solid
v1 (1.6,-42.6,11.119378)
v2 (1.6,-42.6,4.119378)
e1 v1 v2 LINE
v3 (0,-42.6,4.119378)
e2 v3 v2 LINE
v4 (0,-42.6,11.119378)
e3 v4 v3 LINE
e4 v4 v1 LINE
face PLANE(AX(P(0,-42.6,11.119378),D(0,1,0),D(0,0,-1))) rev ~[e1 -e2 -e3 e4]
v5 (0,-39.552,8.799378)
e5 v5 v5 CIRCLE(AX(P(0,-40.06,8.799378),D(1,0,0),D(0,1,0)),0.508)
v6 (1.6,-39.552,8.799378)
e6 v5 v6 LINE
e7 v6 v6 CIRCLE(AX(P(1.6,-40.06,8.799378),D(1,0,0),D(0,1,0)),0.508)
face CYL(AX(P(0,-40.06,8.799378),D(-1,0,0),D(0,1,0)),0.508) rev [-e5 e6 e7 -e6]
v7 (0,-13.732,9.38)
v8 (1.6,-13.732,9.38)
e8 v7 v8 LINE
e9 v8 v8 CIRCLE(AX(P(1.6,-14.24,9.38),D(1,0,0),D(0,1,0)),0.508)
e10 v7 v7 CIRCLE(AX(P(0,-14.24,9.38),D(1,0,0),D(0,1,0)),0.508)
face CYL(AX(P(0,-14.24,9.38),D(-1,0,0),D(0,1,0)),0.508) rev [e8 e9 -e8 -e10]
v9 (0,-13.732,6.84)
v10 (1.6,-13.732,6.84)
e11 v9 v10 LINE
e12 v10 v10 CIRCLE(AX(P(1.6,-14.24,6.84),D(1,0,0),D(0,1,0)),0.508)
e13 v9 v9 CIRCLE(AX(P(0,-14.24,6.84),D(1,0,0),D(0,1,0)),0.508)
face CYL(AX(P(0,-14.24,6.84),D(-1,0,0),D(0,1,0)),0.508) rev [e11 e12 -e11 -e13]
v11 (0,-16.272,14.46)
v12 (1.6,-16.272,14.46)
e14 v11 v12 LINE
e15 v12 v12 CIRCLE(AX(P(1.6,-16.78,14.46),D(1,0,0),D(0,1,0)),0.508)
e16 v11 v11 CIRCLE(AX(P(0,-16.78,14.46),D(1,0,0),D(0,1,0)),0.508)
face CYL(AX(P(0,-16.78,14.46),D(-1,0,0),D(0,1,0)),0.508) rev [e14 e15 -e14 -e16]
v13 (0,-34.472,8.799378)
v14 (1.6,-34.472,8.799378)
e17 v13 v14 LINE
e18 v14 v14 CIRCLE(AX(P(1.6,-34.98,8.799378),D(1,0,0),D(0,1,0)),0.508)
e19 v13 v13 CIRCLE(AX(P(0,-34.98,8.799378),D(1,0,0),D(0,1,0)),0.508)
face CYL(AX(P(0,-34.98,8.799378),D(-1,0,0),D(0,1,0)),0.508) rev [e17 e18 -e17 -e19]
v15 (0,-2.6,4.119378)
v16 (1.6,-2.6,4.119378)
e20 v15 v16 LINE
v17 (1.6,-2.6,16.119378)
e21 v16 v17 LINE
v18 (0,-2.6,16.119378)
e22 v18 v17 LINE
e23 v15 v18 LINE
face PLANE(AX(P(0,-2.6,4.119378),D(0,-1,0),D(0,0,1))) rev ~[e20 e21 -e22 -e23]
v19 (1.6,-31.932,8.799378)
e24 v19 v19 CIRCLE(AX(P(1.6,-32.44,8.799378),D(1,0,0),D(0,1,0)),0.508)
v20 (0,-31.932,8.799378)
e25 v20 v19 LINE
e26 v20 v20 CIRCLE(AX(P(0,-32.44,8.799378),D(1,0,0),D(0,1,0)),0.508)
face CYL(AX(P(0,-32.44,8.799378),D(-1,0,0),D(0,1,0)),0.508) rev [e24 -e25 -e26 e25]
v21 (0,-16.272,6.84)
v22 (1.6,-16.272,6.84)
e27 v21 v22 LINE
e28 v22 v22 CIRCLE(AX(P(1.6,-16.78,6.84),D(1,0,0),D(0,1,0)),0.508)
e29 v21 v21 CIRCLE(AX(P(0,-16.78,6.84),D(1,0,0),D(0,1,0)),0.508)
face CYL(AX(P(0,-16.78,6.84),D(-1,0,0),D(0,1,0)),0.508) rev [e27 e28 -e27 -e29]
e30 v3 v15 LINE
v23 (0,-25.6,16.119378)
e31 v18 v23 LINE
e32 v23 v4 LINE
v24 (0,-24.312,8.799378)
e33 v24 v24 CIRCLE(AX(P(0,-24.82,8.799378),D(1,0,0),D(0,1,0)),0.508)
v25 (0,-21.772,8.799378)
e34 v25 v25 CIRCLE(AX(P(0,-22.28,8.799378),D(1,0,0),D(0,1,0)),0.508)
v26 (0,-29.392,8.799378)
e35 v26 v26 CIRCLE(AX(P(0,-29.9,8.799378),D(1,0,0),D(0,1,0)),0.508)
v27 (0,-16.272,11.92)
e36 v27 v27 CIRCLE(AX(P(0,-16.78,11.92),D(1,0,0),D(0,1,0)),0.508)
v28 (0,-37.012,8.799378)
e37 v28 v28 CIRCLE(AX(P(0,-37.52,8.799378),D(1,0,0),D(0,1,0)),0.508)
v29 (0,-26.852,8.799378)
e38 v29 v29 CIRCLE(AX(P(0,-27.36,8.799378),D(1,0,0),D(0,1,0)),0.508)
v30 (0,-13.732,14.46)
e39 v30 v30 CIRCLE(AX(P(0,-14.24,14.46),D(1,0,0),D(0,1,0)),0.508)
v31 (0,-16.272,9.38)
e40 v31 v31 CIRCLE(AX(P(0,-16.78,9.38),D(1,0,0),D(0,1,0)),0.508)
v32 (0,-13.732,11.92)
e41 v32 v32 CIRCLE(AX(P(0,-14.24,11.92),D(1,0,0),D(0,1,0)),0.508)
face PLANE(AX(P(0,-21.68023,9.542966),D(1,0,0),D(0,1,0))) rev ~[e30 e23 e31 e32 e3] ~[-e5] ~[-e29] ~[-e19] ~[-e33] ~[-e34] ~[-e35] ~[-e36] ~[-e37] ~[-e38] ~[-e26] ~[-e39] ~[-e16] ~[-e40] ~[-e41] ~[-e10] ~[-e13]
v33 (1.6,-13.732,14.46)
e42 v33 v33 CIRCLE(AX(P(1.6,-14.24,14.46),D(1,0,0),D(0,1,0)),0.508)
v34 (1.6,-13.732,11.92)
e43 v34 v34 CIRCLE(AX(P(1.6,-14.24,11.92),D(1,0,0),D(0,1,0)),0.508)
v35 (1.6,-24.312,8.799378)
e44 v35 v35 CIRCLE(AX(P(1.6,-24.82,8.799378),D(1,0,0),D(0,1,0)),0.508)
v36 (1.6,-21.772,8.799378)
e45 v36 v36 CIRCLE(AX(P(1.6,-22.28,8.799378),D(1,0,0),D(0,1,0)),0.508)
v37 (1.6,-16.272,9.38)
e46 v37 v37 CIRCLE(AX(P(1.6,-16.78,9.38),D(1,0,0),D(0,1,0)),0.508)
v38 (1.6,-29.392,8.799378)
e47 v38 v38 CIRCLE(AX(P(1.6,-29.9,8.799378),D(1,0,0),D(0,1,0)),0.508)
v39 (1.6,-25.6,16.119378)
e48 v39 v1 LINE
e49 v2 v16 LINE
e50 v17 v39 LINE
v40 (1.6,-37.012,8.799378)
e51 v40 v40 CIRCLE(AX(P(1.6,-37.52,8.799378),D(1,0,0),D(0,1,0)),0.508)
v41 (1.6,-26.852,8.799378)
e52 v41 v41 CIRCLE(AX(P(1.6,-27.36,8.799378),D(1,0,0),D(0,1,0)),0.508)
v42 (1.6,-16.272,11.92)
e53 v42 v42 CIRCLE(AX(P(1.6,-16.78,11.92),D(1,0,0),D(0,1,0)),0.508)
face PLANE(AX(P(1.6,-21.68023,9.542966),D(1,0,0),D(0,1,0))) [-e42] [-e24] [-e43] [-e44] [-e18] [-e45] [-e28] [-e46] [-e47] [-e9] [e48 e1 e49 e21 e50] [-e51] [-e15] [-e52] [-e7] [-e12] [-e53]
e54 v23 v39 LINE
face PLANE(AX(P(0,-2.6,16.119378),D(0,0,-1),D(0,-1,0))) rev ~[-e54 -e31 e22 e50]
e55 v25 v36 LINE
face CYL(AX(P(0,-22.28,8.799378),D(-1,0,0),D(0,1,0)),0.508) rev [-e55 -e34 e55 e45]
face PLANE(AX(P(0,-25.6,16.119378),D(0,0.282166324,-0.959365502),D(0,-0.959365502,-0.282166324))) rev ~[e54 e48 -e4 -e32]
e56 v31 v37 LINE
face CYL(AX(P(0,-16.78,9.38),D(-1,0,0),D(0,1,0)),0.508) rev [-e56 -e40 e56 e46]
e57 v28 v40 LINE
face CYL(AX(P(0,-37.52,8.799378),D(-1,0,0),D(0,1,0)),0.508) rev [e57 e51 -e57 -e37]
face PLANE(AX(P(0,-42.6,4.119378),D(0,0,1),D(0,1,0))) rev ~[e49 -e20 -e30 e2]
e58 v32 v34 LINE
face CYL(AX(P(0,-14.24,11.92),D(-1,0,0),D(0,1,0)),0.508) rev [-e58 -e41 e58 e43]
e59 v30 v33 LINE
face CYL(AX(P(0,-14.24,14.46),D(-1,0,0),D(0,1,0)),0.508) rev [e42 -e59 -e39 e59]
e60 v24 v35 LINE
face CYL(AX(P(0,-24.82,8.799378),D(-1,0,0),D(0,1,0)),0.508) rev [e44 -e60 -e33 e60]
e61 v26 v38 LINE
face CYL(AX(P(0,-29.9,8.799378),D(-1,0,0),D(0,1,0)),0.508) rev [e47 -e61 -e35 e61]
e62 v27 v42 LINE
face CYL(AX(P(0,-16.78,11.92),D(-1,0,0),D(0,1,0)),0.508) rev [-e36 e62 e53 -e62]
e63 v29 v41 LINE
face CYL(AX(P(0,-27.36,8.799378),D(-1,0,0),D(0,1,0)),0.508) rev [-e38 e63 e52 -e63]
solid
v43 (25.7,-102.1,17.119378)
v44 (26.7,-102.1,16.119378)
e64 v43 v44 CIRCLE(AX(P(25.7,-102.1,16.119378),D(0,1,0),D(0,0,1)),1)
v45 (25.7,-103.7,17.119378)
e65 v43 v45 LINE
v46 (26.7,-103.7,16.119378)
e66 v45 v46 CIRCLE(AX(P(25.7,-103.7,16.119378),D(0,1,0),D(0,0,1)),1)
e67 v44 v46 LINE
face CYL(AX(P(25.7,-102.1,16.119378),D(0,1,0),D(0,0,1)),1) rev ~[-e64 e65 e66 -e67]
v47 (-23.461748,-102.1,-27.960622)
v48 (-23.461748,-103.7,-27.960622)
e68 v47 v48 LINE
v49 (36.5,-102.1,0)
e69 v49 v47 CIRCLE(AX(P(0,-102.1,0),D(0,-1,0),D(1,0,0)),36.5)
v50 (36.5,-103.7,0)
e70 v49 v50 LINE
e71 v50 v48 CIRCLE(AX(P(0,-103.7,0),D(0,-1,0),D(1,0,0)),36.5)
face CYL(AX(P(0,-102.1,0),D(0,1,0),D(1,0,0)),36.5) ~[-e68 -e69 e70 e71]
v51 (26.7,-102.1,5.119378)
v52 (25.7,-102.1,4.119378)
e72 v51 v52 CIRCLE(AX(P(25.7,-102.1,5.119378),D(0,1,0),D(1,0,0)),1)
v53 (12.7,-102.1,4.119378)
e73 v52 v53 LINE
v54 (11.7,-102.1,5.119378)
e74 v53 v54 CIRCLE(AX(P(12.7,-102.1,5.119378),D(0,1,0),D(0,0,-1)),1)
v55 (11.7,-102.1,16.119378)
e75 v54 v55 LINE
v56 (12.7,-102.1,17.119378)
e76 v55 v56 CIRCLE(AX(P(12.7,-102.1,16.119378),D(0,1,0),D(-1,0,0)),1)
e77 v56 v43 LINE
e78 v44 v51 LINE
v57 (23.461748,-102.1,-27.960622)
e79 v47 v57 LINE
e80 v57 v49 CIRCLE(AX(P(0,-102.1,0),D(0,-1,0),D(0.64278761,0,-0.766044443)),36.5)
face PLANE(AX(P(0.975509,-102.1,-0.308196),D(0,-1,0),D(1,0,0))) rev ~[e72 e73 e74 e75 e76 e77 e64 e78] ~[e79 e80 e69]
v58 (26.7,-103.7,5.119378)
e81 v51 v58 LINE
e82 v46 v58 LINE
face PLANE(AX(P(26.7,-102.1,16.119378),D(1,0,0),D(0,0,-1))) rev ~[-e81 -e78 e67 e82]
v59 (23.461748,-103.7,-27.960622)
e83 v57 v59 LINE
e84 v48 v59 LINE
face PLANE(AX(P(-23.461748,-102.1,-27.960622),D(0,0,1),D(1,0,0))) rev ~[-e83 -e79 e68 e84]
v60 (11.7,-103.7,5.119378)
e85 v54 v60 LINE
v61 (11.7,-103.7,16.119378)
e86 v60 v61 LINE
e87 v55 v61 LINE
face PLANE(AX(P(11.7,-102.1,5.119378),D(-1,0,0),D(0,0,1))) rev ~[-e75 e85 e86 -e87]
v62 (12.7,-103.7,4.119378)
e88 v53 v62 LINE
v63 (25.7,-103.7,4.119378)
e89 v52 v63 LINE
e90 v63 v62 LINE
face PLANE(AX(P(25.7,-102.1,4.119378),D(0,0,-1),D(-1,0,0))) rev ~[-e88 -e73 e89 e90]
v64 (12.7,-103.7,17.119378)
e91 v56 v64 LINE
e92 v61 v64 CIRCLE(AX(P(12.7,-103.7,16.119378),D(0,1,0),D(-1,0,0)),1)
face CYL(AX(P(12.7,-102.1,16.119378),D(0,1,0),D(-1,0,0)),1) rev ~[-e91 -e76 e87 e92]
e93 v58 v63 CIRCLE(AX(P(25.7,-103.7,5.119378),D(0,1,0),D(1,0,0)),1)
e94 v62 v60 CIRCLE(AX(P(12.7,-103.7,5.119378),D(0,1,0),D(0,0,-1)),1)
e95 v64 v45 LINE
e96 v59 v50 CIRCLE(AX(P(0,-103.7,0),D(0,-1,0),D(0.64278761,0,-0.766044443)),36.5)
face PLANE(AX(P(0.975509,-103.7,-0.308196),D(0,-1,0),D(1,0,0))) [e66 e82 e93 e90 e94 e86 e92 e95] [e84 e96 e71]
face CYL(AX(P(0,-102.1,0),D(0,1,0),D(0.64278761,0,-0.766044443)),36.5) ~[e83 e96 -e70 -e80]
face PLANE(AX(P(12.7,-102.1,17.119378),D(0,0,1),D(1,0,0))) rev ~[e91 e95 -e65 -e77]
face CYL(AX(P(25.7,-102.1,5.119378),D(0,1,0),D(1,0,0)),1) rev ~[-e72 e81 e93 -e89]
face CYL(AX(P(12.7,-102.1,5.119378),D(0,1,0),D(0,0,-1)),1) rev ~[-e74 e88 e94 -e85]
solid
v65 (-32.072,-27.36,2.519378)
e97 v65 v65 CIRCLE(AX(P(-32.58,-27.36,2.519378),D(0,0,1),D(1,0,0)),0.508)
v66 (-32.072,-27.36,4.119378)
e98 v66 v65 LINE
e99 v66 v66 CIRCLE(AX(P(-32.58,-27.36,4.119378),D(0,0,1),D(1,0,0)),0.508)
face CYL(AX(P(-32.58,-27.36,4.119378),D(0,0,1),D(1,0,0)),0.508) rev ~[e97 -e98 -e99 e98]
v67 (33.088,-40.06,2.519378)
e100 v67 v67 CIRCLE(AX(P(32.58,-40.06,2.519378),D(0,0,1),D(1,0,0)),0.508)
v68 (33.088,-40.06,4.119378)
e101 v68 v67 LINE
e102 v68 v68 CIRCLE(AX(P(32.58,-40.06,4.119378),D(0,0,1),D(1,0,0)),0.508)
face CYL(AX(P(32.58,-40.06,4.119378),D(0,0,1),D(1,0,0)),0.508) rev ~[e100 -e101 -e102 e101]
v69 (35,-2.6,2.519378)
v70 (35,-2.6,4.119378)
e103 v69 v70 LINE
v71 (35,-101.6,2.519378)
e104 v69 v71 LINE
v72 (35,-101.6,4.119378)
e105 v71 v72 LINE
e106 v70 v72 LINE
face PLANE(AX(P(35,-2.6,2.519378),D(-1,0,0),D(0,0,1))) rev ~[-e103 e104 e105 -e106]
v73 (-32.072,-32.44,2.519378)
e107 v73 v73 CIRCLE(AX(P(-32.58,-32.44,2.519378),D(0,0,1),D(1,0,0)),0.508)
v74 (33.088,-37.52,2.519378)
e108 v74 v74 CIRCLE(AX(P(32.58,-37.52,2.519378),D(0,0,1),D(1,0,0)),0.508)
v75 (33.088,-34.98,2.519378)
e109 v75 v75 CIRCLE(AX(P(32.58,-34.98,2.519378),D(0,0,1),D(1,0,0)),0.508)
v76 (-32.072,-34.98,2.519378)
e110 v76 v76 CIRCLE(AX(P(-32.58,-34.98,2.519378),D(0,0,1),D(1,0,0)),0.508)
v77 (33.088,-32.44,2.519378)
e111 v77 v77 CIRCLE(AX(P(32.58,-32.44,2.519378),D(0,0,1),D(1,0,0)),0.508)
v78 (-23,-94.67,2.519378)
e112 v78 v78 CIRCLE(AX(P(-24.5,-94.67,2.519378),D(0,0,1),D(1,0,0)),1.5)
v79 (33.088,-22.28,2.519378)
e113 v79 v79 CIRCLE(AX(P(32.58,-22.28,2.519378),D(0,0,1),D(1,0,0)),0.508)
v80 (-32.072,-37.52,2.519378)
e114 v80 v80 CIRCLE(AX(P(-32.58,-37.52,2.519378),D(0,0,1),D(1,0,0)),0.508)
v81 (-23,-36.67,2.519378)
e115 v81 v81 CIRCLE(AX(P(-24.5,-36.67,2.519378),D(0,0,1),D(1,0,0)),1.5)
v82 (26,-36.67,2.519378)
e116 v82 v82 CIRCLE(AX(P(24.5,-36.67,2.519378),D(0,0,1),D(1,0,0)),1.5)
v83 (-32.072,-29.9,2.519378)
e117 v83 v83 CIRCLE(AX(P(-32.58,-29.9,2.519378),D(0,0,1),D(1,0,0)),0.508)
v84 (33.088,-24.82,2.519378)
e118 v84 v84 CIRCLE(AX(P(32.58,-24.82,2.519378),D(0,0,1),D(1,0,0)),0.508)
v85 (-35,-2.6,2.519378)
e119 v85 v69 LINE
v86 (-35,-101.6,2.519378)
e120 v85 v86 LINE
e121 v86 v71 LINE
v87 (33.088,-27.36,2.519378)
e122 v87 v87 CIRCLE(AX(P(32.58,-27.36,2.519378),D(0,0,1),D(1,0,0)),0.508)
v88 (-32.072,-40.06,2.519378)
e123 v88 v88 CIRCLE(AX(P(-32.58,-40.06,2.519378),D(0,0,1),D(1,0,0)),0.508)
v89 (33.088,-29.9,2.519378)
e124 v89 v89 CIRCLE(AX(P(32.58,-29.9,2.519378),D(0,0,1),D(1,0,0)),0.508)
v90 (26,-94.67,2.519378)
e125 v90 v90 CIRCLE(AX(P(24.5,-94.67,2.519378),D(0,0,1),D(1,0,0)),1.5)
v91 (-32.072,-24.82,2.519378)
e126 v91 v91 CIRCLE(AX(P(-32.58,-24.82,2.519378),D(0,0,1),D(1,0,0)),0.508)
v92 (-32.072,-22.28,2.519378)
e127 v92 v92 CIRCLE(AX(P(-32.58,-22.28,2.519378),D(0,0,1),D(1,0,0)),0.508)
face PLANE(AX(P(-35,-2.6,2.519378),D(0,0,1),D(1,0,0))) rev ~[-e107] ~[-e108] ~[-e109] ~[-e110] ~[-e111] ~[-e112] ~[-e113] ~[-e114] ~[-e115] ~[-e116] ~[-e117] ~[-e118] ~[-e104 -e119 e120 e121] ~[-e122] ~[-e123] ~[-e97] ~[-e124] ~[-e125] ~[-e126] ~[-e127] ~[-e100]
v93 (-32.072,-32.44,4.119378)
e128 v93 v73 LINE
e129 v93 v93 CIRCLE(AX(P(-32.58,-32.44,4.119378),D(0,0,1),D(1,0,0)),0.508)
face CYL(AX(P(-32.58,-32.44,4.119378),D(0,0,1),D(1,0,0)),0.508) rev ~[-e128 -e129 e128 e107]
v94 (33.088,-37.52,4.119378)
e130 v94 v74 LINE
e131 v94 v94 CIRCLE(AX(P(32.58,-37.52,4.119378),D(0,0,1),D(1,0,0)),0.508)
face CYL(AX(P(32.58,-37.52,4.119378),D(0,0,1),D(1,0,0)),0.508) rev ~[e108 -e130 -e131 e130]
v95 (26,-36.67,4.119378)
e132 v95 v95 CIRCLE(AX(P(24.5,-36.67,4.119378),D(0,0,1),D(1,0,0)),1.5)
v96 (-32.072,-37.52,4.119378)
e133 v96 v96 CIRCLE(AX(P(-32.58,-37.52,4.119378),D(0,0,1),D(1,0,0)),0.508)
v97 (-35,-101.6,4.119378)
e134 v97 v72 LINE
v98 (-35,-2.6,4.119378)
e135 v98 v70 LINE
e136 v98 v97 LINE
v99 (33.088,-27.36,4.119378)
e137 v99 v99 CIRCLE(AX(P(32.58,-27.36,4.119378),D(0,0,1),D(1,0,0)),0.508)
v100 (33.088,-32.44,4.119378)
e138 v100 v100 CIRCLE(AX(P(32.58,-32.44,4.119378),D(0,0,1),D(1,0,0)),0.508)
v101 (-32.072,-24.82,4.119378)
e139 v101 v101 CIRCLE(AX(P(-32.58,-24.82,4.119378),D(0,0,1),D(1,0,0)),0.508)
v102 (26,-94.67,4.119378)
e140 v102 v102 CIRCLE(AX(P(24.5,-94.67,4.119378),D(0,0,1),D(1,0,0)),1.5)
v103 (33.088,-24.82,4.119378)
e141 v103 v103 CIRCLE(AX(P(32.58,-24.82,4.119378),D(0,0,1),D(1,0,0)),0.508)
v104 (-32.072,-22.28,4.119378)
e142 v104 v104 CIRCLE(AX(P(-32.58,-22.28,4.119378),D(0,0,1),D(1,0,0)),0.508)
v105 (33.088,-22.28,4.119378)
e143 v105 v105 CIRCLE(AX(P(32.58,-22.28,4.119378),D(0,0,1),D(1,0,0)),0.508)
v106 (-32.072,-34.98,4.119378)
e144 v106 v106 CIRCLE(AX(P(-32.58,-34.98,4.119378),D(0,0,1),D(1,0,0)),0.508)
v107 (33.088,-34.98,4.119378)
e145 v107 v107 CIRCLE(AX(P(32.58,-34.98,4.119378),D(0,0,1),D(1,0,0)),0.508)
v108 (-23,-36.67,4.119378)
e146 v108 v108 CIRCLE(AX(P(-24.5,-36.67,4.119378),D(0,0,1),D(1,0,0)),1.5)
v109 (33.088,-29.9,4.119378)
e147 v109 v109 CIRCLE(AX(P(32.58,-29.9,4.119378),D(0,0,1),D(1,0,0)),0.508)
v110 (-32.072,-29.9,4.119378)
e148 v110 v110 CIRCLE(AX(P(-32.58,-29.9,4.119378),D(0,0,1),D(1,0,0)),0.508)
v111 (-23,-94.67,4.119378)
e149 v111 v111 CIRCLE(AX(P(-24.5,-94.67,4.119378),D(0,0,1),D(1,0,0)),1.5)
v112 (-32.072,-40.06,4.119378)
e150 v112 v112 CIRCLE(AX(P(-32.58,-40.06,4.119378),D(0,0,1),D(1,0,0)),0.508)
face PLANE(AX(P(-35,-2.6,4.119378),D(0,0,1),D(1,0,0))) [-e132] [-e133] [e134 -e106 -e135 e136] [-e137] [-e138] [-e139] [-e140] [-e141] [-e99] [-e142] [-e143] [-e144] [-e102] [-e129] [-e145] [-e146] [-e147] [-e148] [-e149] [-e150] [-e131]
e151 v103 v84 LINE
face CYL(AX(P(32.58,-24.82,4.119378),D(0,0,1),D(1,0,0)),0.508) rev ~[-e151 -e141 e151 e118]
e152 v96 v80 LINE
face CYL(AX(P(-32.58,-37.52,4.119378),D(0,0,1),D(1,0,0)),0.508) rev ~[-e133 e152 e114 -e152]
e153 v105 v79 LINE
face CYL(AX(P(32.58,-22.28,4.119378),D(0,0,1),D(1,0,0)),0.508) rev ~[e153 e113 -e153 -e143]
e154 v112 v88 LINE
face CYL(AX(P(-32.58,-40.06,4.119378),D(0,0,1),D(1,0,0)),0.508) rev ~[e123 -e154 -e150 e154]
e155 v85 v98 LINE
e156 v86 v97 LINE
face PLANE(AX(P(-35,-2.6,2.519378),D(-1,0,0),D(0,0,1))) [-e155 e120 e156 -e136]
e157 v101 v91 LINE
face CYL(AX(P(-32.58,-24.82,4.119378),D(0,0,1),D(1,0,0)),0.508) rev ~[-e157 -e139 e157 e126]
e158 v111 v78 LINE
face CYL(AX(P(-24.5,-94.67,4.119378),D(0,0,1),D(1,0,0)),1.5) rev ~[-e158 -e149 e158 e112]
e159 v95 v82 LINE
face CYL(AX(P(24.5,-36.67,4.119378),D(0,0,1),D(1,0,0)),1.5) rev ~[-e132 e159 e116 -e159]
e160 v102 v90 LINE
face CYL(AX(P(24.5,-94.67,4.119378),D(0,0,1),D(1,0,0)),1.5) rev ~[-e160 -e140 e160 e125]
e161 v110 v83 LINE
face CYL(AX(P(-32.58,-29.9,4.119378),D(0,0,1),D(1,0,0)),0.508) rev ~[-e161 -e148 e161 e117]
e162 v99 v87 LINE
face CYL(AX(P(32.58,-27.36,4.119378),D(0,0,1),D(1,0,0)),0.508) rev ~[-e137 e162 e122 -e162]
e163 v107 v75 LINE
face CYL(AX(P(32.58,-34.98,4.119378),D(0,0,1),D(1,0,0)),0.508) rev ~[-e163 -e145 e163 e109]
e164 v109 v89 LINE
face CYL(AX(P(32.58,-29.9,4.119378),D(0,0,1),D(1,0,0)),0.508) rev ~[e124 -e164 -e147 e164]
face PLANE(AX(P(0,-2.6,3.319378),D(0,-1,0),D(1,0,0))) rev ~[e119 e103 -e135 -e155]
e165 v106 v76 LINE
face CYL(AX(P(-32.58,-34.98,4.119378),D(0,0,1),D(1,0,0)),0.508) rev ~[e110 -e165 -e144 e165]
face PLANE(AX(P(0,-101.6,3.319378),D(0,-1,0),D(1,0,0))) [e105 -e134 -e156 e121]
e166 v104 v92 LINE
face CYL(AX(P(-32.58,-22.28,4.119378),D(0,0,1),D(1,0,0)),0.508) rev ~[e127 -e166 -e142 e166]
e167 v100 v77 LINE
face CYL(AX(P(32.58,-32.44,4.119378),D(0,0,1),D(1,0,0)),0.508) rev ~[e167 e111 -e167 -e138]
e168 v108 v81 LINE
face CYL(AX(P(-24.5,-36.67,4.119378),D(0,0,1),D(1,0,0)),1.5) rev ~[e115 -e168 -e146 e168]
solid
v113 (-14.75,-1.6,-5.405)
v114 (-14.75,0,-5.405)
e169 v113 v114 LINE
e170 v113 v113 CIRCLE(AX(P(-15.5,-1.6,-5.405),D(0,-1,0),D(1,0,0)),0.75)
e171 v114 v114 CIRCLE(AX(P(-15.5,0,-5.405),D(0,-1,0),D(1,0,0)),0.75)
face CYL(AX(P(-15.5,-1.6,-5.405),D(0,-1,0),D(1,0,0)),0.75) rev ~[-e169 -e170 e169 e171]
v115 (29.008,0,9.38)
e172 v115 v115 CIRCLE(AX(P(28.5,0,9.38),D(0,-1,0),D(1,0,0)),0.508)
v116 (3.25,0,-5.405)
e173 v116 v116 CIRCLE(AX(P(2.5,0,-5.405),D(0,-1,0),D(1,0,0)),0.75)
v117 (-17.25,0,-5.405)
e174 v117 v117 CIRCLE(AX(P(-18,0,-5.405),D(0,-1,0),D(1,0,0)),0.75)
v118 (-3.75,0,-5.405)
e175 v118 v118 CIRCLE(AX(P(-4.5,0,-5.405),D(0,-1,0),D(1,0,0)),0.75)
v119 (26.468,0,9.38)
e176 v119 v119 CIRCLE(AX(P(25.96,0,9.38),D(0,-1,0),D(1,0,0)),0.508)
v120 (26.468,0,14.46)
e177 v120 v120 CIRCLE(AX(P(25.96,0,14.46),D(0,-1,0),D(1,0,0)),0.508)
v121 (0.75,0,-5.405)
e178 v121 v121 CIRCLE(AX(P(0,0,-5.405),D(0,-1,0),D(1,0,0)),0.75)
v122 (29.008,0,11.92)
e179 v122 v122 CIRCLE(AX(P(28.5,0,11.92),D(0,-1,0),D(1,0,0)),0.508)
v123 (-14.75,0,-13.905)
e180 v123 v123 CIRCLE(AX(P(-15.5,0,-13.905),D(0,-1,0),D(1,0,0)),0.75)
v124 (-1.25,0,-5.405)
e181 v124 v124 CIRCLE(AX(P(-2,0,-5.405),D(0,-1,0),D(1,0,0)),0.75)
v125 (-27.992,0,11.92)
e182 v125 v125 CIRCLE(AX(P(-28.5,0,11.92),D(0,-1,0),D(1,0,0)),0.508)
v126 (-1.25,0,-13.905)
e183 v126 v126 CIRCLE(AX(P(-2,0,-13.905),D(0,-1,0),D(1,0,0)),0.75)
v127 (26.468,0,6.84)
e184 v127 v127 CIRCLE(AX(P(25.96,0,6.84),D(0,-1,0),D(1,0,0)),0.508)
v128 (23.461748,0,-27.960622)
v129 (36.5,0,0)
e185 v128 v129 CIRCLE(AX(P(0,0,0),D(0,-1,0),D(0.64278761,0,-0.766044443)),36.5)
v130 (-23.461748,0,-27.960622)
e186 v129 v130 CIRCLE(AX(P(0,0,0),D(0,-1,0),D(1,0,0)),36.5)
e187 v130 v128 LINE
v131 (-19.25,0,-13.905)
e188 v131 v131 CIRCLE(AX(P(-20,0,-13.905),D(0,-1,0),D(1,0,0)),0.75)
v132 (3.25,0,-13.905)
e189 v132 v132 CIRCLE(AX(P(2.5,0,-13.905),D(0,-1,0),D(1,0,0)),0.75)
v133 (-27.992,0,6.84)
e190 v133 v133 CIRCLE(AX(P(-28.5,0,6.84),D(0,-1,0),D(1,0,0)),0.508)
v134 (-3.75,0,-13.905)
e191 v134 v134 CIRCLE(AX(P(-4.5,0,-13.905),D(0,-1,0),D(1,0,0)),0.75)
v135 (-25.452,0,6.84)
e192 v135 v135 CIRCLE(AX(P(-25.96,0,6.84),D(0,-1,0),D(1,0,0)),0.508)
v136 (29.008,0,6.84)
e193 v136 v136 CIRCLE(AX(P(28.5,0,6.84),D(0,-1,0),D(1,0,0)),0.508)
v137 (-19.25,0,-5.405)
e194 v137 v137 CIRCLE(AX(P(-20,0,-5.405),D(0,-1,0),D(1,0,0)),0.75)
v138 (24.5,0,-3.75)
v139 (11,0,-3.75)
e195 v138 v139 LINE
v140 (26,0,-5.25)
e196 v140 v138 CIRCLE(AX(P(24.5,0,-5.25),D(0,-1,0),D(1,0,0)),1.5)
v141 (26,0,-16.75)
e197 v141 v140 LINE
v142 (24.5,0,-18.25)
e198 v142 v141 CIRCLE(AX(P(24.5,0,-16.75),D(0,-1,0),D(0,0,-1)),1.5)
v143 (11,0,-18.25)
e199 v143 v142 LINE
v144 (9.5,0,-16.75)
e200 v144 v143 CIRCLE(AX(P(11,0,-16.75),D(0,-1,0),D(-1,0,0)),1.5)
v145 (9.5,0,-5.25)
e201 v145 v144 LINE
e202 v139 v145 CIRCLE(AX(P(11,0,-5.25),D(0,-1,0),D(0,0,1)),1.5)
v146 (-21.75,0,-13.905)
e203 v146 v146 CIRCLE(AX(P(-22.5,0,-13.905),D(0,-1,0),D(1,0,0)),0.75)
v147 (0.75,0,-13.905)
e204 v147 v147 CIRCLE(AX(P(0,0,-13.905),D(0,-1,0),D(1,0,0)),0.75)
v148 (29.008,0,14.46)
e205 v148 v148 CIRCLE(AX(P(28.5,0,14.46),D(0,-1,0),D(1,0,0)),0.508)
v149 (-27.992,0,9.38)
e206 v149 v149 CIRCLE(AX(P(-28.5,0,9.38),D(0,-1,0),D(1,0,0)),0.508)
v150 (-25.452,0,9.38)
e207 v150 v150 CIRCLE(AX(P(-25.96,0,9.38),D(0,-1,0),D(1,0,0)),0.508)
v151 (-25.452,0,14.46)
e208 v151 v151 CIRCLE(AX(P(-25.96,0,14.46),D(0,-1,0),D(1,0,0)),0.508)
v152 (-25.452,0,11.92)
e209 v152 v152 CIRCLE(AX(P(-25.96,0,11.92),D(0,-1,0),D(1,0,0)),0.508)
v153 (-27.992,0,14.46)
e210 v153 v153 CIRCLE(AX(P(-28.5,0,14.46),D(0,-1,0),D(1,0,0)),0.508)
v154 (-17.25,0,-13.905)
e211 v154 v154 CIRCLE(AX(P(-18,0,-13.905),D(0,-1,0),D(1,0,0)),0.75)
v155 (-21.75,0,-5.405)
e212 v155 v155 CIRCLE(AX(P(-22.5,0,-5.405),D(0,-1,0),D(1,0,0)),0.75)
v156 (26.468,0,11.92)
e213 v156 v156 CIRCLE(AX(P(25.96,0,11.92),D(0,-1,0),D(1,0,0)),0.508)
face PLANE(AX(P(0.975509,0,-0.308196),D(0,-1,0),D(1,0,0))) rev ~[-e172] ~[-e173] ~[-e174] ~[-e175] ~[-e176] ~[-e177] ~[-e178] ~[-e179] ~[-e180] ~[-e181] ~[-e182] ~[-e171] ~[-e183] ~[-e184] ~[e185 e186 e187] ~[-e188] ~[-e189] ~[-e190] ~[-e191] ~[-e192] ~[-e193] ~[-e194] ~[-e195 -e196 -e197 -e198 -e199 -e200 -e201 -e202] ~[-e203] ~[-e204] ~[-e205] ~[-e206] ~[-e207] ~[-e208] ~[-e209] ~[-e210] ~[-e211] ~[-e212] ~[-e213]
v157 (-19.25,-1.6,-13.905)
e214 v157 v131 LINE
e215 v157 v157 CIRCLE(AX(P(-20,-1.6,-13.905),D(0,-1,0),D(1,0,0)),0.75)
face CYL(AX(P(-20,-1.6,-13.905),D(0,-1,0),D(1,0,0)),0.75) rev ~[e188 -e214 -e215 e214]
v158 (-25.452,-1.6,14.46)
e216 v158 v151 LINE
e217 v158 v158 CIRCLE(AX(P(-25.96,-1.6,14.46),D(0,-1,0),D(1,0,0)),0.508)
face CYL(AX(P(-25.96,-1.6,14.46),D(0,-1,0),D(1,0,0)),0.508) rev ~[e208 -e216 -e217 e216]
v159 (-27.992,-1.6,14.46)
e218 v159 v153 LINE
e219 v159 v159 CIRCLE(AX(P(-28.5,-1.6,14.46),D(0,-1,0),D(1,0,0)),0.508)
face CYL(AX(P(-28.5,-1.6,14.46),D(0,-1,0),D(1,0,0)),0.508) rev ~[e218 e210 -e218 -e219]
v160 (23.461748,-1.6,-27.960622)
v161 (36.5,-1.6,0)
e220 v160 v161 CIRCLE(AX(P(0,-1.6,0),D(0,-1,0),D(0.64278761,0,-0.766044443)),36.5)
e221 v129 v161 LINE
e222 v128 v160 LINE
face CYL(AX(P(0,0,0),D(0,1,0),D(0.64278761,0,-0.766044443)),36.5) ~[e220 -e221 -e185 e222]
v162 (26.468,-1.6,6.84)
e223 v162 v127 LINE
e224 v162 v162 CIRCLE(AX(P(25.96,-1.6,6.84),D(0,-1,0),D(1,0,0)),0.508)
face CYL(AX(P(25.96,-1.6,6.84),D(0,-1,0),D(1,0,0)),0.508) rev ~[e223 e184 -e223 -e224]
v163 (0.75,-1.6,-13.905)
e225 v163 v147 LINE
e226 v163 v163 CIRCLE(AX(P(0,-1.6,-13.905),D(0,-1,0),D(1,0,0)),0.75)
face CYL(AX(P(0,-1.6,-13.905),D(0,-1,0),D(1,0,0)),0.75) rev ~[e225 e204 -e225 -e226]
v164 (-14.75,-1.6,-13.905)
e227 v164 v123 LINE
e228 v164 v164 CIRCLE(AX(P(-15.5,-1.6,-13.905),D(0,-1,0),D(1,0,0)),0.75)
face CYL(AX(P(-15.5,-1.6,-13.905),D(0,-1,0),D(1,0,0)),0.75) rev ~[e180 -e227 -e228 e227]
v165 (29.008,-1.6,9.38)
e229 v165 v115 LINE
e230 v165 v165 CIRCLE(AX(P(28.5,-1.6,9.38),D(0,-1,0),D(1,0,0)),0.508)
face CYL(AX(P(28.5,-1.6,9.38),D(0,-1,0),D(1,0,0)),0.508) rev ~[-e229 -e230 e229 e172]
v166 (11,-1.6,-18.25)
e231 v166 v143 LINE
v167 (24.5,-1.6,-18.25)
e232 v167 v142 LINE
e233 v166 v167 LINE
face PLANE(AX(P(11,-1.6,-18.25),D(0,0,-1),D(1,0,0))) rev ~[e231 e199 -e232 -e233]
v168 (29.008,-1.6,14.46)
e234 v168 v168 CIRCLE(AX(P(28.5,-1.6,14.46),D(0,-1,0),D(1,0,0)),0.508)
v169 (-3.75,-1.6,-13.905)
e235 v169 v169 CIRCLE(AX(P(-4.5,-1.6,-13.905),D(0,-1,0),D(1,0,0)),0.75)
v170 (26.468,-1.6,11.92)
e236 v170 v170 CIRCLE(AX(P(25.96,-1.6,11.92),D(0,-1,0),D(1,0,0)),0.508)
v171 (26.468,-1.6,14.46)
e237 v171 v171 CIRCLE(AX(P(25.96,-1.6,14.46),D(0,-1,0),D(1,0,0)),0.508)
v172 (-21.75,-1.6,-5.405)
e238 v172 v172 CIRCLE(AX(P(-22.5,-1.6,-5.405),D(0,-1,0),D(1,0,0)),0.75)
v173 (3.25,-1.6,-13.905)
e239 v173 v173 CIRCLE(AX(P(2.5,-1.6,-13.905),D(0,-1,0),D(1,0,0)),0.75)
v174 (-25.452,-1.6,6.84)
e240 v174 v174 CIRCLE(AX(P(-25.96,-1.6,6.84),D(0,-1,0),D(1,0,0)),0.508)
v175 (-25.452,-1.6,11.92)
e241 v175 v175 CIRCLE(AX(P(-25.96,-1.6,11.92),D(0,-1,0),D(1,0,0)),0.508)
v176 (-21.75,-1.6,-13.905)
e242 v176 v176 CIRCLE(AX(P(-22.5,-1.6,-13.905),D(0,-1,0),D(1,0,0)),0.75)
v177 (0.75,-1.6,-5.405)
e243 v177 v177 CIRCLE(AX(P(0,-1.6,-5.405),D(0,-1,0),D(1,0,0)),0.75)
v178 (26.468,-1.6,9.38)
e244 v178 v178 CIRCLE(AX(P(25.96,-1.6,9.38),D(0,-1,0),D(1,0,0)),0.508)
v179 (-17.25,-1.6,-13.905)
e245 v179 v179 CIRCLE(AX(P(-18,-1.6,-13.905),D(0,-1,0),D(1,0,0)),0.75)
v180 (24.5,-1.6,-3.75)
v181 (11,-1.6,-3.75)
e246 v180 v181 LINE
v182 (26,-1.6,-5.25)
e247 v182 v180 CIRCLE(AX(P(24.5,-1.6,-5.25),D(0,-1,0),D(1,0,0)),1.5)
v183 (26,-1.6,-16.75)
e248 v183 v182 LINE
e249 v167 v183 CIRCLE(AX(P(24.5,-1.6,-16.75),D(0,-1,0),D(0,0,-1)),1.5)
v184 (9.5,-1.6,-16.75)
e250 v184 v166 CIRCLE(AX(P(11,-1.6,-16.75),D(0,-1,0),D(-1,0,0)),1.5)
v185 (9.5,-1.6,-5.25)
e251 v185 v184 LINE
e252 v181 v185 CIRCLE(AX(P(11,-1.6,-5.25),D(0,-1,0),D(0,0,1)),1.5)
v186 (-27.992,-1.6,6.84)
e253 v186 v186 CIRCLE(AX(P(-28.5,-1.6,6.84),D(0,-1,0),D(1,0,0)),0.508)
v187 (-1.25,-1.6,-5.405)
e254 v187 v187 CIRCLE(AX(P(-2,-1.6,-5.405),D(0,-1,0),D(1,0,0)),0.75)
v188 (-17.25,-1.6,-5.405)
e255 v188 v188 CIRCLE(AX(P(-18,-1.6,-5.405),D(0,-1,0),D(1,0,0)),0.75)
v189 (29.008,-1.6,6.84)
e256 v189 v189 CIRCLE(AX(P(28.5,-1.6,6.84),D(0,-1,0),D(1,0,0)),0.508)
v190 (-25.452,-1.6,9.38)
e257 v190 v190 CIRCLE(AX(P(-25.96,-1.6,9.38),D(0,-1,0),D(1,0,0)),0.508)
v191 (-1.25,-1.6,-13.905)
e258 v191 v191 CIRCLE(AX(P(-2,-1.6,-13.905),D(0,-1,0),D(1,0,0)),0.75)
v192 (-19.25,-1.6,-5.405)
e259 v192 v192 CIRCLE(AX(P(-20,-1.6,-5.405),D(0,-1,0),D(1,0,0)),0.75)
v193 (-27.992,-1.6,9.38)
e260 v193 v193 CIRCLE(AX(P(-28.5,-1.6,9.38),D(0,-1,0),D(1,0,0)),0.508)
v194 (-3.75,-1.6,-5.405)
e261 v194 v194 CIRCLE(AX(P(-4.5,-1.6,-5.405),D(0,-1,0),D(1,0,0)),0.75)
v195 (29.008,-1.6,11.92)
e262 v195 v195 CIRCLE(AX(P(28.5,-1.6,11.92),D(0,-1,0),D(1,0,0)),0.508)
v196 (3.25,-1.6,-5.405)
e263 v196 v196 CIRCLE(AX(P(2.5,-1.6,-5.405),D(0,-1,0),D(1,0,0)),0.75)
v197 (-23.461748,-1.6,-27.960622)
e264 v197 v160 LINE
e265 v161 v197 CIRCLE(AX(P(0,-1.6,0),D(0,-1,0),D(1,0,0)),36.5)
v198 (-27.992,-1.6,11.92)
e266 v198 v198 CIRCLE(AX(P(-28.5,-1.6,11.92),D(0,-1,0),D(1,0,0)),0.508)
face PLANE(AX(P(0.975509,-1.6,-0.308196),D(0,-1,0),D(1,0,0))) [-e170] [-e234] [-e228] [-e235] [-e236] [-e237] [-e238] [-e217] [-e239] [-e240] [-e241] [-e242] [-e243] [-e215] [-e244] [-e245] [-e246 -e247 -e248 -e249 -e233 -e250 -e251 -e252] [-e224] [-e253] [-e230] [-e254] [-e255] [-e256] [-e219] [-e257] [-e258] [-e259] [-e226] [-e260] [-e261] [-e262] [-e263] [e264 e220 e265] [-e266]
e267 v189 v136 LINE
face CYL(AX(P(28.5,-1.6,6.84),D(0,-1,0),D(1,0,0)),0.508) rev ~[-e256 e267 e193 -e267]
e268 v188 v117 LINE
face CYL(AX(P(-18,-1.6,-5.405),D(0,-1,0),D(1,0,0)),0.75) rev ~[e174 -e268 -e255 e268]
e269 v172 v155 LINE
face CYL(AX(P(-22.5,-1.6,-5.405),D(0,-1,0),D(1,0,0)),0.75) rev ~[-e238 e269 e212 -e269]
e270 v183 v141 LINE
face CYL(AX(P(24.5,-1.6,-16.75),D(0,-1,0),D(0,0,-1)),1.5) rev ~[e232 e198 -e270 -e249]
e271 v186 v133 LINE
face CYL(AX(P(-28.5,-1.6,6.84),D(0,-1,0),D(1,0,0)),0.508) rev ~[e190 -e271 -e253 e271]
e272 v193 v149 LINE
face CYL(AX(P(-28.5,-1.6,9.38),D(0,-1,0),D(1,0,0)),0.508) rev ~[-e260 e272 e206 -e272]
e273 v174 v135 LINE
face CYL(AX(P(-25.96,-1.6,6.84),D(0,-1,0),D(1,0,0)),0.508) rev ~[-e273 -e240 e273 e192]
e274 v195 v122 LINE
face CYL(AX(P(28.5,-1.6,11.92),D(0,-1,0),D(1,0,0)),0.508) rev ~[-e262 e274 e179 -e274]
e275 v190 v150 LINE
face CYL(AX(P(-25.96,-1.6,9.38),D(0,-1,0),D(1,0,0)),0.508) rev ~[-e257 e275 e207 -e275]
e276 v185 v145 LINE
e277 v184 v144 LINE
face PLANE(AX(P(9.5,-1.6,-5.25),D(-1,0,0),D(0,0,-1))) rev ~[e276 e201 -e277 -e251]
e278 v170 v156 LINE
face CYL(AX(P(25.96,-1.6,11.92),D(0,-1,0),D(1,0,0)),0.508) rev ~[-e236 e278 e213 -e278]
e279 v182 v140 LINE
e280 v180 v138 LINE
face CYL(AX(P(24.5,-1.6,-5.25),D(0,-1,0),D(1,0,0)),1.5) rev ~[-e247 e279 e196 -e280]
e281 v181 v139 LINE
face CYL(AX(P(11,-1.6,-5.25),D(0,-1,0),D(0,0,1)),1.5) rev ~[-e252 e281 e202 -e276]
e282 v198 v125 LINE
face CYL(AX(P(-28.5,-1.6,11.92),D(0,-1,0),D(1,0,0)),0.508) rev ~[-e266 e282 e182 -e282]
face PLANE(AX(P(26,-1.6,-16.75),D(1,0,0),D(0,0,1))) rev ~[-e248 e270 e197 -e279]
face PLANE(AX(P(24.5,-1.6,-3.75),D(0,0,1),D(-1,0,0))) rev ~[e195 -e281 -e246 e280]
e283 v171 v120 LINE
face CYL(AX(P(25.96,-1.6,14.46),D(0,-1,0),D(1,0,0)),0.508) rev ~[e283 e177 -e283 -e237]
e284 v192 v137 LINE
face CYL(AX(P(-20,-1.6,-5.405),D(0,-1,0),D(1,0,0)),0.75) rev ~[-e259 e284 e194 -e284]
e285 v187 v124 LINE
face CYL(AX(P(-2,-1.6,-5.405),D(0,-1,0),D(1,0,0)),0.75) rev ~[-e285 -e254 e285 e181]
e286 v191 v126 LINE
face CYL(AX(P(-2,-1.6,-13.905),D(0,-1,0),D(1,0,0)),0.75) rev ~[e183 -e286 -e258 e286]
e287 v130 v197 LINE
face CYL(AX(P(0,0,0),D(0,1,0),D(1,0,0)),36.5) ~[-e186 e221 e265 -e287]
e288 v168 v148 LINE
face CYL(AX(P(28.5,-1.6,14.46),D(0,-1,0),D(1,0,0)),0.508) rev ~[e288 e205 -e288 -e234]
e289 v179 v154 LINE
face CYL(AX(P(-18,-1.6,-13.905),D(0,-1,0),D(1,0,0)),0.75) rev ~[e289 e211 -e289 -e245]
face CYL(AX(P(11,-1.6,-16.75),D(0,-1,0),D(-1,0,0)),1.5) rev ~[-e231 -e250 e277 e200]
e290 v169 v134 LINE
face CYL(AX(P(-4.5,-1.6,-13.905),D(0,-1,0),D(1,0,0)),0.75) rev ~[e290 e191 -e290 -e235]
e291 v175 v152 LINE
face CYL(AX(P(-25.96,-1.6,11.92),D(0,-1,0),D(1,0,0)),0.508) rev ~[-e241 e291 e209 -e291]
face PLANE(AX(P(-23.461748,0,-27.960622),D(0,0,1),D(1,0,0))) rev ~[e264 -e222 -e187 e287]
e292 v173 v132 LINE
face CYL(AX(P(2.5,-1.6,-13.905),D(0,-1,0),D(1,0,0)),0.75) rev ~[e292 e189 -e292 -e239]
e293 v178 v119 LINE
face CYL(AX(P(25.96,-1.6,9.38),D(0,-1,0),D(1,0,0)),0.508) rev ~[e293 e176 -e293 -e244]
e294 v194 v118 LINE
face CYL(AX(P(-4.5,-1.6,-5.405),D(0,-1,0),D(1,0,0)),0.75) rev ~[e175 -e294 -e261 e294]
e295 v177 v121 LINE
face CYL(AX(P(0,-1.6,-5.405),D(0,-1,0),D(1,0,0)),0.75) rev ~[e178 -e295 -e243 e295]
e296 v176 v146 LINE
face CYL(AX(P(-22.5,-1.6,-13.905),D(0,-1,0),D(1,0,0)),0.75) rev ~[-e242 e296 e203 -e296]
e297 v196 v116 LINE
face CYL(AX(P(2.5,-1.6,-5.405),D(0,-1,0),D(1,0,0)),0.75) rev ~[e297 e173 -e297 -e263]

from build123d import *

# Parameters (mm, degrees)
F1_DEPTH  = 1.6
F2_R      = 0.508
F2_R_2    = 0.75
F3_DEPTH  = 25
F5_W      = 70
F5_H      = 1.6
F6_DEPTH  = 99
F7_R      = 1.5
F7_R_2    = 0.508
F8_DEPTH  = 25
F9_R      = 0.508
F10_DEPTH = 1.6
F13_DEPTH = 1.6


with BuildPart() as f1:
    # F0 (on Front) → F1 (new body)
    with BuildSketch(Plane.XZ):
        with BuildLine():
            ThreePointArc((23.4617477536, -27.9606221738), (33.0802342268, -15.4255665535), (36.5, 0))
            ThreePointArc((36.5, 0), (-15.4255665535, 33.0802342268), (-23.4617477536, -27.9606221738))
            Line((-23.4617477536, -27.9606221738), (23.4617477536, -27.9606221738))
        make_face()
    extrude(amount=F1_DEPTH)

    # F2 (on face) → F3 (cut)
    with BuildSketch(Plane.XZ.offset(1.6)):
        with Locations((28.5, 14.46)):
            Circle(F2_R)
        with Locations((28.5, 11.92)):
            Circle(F2_R)
        with Locations((28.5, 9.38)):
            Circle(F2_R)
        with Locations((28.5, 6.84)):
            Circle(F2_R)
        with Locations((25.96, 14.46)):
            Circle(F2_R)
        with Locations((25.96, 11.92)):
            Circle(F2_R)
        with Locations((25.96, 9.38)):
            Circle(F2_R)
        with Locations((25.96, 6.84)):
            Circle(F2_R)
        with BuildLine():
            ThreePointArc((26, -5.25), (25.5606601718, -4.1893398282), (24.5, -3.75))
            Line((24.5, -3.75), (11, -3.75))
            ThreePointArc((11, -3.75), (9.9393398282, -4.1893398282), (9.5, -5.25))
            Line((9.5, -5.25), (9.5, -16.75))
            ThreePointArc((9.5, -16.75), (9.9393398282, -17.8106601718), (11, -18.25))
            Line((11, -18.25), (24.5, -18.25))
            ThreePointArc((24.5, -18.25), (25.5606601718, -17.8106601718), (26, -16.75))
            Line((26, -16.75), (26, -5.25))
        make_face()
        with Locations((-22.5, -5.405)):
            Circle(F2_R_2)
        with Locations((-20, -5.405)):
            Circle(F2_R_2)
        with Locations((-18, -5.405)):
            Circle(F2_R_2)
        with Locations((-15.5, -5.405)):
            Circle(F2_R_2)
        with Locations((-22.5, -13.905)):
            Circle(F2_R_2)
        with Locations((-20, -13.905)):
            Circle(F2_R_2)
        with Locations((-18, -13.905)):
            Circle(F2_R_2)
        with Locations((-15.5, -13.905)):
            Circle(F2_R_2)
        with Locations((-4.5, -5.405)):
            Circle(F2_R_2)
        with Locations((-2, -5.405)):
            Circle(F2_R_2)
        with Locations((0, -5.405)):
            Circle(F2_R_2)
        with Locations((2.5, -5.405)):
            Circle(F2_R_2)
        with Locations((-4.5, -13.905)):
            Circle(F2_R_2)
        with Locations((-2, -13.905)):
            Circle(F2_R_2)
        with Locations((0, -13.905)):
            Circle(F2_R_2)
        with Locations((2.5, -13.905)):
            Circle(F2_R_2)
        with Locations((-25.96, 6.84)):
            Circle(F2_R)
        with Locations((-25.96, 9.38)):
            Circle(F2_R)
        with Locations((-25.96, 11.92)):
            Circle(F2_R)
        with Locations((-25.96, 14.46)):
            Circle(F2_R)
        with Locations((-28.5, 14.46)):
            Circle(F2_R)
        with Locations((-28.5, 11.92)):
            Circle(F2_R)
        with Locations((-28.5, 9.38)):
            Circle(F2_R)
        with Locations((-28.5, 6.84)):
            Circle(F2_R)
    extrude(amount=-F3_DEPTH, mode=Mode.SUBTRACT)


with BuildPart() as f6:
    # F5 (on offset) → F6 (new body)
    with BuildSketch(Plane.XZ.offset(2.6)):
        with Locations((0, 3.3193778262)):
            Rectangle(F5_W, F5_H)
    extrude(amount=F6_DEPTH)

    # F7 (on face) → F8 (cut)
    with BuildSketch(Plane.XY.offset(4.1193778262)):
        with Locations((-24.5, -36.67)):
            Circle(F7_R)
        with Locations((24.5, -94.67)):
            Circle(F7_R)
        with Locations((-24.5, -94.67)):
            Circle(F7_R)
        with Locations((24.5, -36.67)):
            Circle(F7_R)
        with Locations((-32.58, -22.28)):
            Circle(F7_R_2)
        with Locations((-32.58, -24.82)):
            Circle(F7_R_2)
        with Locations((-32.58, -27.36)):
            Circle(F7_R_2)
        with Locations((-32.58, -29.9)):
            Circle(F7_R_2)
        with Locations((-32.58, -32.44)):
            Circle(F7_R_2)
        with Locations((-32.58, -34.98)):
            Circle(F7_R_2)
        with Locations((-32.58, -37.52)):
            Circle(F7_R_2)
        with Locations((-32.58, -40.06)):
            Circle(F7_R_2)
        with Locations((32.58, -40.06)):
            Circle(F7_R_2)
        with Locations((32.58, -37.52)):
            Circle(F7_R_2)
        with Locations((32.58, -34.98)):
            Circle(F7_R_2)
        with Locations((32.58, -32.44)):
            Circle(F7_R_2)
        with Locations((32.58, -29.9)):
            Circle(F7_R_2)
        with Locations((32.58, -27.36)):
            Circle(F7_R_2)
        with Locations((32.58, -24.82)):
            Circle(F7_R_2)
        with Locations((32.58, -22.28)):
            Circle(F7_R_2)
    extrude(amount=-F8_DEPTH, mode=Mode.SUBTRACT)


with BuildPart() as f10:
    # F9 (on Right) → F10 (new body)
    with BuildSketch(Plane.YZ):
        Polygon((-2.6, 4.1193778262), (-2.6, 16.1193778262), (-25.6, 16.1193778262), (-42.6, 11.1193778262), (-42.6, 4.1193778262), align=None)
        with Locations((-40.06, 8.7993778262)):
            Circle(F9_R, mode=Mode.SUBTRACT)
        with Locations((-37.52, 8.7993778262)):
            Circle(F9_R, mode=Mode.SUBTRACT)
        with Locations((-34.98, 8.7993778262)):
            Circle(F9_R, mode=Mode.SUBTRACT)
        with Locations((-32.44, 8.7993778262)):
            Circle(F9_R, mode=Mode.SUBTRACT)
        with Locations((-29.9, 8.7993778262)):
            Circle(F9_R, mode=Mode.SUBTRACT)
        with Locations((-27.36, 8.7993778262)):
            Circle(F9_R, mode=Mode.SUBTRACT)
        with Locations((-24.82, 8.7993778262)):
            Circle(F9_R, mode=Mode.SUBTRACT)
        with Locations((-16.78, 6.84)):
            Circle(F9_R, mode=Mode.SUBTRACT)
        with Locations((-14.24, 6.84)):
            Circle(F9_R, mode=Mode.SUBTRACT)
        with Locations((-22.28, 8.7993778262)):
            Circle(F9_R, mode=Mode.SUBTRACT)
        with Locations((-16.78, 9.38)):
            Circle(F9_R, mode=Mode.SUBTRACT)
        with Locations((-14.24, 9.38)):
            Circle(F9_R, mode=Mode.SUBTRACT)
        with Locations((-16.78, 11.92)):
            Circle(F9_R, mode=Mode.SUBTRACT)
        with Locations((-14.24, 11.92)):
            Circle(F9_R, mode=Mode.SUBTRACT)
        with Locations((-16.78, 14.46)):
            Circle(F9_R, mode=Mode.SUBTRACT)
        with Locations((-14.24, 14.46)):
            Circle(F9_R, mode=Mode.SUBTRACT)
    extrude(amount=F10_DEPTH)


with BuildPart() as f13:
    # F12 (on offset) → F13 (new body)
    with BuildSketch(Plane.XZ.offset(102.1)):
        with BuildLine():
            ThreePointArc((23.4617477536, -27.9606221738), (33.0802342268, -15.4255665535), (36.5, 0))
            ThreePointArc((36.5, 0), (-15.4255665535, 33.0802342268), (-23.4617477536, -27.9606221738))
            Line((-23.4617477536, -27.9606221738), (23.4617477536, -27.9606221738))
        make_face()
        with BuildLine():
            Line((12.7, 17.1193778262), (25.7, 17.1193778262))
            ThreePointArc((25.7, 17.1193778262), (26.4071067812, 16.8264846073), (26.7, 16.1193778262))
            Line((26.7, 16.1193778262), (26.7, 5.1193778262))
            ThreePointArc((26.7, 5.1193778262), (26.4071067812, 4.412271045), (25.7, 4.1193778262))
            Line((25.7, 4.1193778262), (12.7, 4.1193778262))
            ThreePointArc((12.7, 4.1193778262), (11.9928932188, 4.412271045), (11.7, 5.1193778262))
            Line((11.7, 5.1193778262), (11.7, 16.1193778262))
            ThreePointArc((11.7, 16.1193778262), (11.9928932188, 16.8264846073), (12.7, 17.1193778262))
        make_face(mode=Mode.SUBTRACT)
    extrude(amount=F13_DEPTH)


solid = Compound([f1.part, f6.part, f10.part, f13.part])
